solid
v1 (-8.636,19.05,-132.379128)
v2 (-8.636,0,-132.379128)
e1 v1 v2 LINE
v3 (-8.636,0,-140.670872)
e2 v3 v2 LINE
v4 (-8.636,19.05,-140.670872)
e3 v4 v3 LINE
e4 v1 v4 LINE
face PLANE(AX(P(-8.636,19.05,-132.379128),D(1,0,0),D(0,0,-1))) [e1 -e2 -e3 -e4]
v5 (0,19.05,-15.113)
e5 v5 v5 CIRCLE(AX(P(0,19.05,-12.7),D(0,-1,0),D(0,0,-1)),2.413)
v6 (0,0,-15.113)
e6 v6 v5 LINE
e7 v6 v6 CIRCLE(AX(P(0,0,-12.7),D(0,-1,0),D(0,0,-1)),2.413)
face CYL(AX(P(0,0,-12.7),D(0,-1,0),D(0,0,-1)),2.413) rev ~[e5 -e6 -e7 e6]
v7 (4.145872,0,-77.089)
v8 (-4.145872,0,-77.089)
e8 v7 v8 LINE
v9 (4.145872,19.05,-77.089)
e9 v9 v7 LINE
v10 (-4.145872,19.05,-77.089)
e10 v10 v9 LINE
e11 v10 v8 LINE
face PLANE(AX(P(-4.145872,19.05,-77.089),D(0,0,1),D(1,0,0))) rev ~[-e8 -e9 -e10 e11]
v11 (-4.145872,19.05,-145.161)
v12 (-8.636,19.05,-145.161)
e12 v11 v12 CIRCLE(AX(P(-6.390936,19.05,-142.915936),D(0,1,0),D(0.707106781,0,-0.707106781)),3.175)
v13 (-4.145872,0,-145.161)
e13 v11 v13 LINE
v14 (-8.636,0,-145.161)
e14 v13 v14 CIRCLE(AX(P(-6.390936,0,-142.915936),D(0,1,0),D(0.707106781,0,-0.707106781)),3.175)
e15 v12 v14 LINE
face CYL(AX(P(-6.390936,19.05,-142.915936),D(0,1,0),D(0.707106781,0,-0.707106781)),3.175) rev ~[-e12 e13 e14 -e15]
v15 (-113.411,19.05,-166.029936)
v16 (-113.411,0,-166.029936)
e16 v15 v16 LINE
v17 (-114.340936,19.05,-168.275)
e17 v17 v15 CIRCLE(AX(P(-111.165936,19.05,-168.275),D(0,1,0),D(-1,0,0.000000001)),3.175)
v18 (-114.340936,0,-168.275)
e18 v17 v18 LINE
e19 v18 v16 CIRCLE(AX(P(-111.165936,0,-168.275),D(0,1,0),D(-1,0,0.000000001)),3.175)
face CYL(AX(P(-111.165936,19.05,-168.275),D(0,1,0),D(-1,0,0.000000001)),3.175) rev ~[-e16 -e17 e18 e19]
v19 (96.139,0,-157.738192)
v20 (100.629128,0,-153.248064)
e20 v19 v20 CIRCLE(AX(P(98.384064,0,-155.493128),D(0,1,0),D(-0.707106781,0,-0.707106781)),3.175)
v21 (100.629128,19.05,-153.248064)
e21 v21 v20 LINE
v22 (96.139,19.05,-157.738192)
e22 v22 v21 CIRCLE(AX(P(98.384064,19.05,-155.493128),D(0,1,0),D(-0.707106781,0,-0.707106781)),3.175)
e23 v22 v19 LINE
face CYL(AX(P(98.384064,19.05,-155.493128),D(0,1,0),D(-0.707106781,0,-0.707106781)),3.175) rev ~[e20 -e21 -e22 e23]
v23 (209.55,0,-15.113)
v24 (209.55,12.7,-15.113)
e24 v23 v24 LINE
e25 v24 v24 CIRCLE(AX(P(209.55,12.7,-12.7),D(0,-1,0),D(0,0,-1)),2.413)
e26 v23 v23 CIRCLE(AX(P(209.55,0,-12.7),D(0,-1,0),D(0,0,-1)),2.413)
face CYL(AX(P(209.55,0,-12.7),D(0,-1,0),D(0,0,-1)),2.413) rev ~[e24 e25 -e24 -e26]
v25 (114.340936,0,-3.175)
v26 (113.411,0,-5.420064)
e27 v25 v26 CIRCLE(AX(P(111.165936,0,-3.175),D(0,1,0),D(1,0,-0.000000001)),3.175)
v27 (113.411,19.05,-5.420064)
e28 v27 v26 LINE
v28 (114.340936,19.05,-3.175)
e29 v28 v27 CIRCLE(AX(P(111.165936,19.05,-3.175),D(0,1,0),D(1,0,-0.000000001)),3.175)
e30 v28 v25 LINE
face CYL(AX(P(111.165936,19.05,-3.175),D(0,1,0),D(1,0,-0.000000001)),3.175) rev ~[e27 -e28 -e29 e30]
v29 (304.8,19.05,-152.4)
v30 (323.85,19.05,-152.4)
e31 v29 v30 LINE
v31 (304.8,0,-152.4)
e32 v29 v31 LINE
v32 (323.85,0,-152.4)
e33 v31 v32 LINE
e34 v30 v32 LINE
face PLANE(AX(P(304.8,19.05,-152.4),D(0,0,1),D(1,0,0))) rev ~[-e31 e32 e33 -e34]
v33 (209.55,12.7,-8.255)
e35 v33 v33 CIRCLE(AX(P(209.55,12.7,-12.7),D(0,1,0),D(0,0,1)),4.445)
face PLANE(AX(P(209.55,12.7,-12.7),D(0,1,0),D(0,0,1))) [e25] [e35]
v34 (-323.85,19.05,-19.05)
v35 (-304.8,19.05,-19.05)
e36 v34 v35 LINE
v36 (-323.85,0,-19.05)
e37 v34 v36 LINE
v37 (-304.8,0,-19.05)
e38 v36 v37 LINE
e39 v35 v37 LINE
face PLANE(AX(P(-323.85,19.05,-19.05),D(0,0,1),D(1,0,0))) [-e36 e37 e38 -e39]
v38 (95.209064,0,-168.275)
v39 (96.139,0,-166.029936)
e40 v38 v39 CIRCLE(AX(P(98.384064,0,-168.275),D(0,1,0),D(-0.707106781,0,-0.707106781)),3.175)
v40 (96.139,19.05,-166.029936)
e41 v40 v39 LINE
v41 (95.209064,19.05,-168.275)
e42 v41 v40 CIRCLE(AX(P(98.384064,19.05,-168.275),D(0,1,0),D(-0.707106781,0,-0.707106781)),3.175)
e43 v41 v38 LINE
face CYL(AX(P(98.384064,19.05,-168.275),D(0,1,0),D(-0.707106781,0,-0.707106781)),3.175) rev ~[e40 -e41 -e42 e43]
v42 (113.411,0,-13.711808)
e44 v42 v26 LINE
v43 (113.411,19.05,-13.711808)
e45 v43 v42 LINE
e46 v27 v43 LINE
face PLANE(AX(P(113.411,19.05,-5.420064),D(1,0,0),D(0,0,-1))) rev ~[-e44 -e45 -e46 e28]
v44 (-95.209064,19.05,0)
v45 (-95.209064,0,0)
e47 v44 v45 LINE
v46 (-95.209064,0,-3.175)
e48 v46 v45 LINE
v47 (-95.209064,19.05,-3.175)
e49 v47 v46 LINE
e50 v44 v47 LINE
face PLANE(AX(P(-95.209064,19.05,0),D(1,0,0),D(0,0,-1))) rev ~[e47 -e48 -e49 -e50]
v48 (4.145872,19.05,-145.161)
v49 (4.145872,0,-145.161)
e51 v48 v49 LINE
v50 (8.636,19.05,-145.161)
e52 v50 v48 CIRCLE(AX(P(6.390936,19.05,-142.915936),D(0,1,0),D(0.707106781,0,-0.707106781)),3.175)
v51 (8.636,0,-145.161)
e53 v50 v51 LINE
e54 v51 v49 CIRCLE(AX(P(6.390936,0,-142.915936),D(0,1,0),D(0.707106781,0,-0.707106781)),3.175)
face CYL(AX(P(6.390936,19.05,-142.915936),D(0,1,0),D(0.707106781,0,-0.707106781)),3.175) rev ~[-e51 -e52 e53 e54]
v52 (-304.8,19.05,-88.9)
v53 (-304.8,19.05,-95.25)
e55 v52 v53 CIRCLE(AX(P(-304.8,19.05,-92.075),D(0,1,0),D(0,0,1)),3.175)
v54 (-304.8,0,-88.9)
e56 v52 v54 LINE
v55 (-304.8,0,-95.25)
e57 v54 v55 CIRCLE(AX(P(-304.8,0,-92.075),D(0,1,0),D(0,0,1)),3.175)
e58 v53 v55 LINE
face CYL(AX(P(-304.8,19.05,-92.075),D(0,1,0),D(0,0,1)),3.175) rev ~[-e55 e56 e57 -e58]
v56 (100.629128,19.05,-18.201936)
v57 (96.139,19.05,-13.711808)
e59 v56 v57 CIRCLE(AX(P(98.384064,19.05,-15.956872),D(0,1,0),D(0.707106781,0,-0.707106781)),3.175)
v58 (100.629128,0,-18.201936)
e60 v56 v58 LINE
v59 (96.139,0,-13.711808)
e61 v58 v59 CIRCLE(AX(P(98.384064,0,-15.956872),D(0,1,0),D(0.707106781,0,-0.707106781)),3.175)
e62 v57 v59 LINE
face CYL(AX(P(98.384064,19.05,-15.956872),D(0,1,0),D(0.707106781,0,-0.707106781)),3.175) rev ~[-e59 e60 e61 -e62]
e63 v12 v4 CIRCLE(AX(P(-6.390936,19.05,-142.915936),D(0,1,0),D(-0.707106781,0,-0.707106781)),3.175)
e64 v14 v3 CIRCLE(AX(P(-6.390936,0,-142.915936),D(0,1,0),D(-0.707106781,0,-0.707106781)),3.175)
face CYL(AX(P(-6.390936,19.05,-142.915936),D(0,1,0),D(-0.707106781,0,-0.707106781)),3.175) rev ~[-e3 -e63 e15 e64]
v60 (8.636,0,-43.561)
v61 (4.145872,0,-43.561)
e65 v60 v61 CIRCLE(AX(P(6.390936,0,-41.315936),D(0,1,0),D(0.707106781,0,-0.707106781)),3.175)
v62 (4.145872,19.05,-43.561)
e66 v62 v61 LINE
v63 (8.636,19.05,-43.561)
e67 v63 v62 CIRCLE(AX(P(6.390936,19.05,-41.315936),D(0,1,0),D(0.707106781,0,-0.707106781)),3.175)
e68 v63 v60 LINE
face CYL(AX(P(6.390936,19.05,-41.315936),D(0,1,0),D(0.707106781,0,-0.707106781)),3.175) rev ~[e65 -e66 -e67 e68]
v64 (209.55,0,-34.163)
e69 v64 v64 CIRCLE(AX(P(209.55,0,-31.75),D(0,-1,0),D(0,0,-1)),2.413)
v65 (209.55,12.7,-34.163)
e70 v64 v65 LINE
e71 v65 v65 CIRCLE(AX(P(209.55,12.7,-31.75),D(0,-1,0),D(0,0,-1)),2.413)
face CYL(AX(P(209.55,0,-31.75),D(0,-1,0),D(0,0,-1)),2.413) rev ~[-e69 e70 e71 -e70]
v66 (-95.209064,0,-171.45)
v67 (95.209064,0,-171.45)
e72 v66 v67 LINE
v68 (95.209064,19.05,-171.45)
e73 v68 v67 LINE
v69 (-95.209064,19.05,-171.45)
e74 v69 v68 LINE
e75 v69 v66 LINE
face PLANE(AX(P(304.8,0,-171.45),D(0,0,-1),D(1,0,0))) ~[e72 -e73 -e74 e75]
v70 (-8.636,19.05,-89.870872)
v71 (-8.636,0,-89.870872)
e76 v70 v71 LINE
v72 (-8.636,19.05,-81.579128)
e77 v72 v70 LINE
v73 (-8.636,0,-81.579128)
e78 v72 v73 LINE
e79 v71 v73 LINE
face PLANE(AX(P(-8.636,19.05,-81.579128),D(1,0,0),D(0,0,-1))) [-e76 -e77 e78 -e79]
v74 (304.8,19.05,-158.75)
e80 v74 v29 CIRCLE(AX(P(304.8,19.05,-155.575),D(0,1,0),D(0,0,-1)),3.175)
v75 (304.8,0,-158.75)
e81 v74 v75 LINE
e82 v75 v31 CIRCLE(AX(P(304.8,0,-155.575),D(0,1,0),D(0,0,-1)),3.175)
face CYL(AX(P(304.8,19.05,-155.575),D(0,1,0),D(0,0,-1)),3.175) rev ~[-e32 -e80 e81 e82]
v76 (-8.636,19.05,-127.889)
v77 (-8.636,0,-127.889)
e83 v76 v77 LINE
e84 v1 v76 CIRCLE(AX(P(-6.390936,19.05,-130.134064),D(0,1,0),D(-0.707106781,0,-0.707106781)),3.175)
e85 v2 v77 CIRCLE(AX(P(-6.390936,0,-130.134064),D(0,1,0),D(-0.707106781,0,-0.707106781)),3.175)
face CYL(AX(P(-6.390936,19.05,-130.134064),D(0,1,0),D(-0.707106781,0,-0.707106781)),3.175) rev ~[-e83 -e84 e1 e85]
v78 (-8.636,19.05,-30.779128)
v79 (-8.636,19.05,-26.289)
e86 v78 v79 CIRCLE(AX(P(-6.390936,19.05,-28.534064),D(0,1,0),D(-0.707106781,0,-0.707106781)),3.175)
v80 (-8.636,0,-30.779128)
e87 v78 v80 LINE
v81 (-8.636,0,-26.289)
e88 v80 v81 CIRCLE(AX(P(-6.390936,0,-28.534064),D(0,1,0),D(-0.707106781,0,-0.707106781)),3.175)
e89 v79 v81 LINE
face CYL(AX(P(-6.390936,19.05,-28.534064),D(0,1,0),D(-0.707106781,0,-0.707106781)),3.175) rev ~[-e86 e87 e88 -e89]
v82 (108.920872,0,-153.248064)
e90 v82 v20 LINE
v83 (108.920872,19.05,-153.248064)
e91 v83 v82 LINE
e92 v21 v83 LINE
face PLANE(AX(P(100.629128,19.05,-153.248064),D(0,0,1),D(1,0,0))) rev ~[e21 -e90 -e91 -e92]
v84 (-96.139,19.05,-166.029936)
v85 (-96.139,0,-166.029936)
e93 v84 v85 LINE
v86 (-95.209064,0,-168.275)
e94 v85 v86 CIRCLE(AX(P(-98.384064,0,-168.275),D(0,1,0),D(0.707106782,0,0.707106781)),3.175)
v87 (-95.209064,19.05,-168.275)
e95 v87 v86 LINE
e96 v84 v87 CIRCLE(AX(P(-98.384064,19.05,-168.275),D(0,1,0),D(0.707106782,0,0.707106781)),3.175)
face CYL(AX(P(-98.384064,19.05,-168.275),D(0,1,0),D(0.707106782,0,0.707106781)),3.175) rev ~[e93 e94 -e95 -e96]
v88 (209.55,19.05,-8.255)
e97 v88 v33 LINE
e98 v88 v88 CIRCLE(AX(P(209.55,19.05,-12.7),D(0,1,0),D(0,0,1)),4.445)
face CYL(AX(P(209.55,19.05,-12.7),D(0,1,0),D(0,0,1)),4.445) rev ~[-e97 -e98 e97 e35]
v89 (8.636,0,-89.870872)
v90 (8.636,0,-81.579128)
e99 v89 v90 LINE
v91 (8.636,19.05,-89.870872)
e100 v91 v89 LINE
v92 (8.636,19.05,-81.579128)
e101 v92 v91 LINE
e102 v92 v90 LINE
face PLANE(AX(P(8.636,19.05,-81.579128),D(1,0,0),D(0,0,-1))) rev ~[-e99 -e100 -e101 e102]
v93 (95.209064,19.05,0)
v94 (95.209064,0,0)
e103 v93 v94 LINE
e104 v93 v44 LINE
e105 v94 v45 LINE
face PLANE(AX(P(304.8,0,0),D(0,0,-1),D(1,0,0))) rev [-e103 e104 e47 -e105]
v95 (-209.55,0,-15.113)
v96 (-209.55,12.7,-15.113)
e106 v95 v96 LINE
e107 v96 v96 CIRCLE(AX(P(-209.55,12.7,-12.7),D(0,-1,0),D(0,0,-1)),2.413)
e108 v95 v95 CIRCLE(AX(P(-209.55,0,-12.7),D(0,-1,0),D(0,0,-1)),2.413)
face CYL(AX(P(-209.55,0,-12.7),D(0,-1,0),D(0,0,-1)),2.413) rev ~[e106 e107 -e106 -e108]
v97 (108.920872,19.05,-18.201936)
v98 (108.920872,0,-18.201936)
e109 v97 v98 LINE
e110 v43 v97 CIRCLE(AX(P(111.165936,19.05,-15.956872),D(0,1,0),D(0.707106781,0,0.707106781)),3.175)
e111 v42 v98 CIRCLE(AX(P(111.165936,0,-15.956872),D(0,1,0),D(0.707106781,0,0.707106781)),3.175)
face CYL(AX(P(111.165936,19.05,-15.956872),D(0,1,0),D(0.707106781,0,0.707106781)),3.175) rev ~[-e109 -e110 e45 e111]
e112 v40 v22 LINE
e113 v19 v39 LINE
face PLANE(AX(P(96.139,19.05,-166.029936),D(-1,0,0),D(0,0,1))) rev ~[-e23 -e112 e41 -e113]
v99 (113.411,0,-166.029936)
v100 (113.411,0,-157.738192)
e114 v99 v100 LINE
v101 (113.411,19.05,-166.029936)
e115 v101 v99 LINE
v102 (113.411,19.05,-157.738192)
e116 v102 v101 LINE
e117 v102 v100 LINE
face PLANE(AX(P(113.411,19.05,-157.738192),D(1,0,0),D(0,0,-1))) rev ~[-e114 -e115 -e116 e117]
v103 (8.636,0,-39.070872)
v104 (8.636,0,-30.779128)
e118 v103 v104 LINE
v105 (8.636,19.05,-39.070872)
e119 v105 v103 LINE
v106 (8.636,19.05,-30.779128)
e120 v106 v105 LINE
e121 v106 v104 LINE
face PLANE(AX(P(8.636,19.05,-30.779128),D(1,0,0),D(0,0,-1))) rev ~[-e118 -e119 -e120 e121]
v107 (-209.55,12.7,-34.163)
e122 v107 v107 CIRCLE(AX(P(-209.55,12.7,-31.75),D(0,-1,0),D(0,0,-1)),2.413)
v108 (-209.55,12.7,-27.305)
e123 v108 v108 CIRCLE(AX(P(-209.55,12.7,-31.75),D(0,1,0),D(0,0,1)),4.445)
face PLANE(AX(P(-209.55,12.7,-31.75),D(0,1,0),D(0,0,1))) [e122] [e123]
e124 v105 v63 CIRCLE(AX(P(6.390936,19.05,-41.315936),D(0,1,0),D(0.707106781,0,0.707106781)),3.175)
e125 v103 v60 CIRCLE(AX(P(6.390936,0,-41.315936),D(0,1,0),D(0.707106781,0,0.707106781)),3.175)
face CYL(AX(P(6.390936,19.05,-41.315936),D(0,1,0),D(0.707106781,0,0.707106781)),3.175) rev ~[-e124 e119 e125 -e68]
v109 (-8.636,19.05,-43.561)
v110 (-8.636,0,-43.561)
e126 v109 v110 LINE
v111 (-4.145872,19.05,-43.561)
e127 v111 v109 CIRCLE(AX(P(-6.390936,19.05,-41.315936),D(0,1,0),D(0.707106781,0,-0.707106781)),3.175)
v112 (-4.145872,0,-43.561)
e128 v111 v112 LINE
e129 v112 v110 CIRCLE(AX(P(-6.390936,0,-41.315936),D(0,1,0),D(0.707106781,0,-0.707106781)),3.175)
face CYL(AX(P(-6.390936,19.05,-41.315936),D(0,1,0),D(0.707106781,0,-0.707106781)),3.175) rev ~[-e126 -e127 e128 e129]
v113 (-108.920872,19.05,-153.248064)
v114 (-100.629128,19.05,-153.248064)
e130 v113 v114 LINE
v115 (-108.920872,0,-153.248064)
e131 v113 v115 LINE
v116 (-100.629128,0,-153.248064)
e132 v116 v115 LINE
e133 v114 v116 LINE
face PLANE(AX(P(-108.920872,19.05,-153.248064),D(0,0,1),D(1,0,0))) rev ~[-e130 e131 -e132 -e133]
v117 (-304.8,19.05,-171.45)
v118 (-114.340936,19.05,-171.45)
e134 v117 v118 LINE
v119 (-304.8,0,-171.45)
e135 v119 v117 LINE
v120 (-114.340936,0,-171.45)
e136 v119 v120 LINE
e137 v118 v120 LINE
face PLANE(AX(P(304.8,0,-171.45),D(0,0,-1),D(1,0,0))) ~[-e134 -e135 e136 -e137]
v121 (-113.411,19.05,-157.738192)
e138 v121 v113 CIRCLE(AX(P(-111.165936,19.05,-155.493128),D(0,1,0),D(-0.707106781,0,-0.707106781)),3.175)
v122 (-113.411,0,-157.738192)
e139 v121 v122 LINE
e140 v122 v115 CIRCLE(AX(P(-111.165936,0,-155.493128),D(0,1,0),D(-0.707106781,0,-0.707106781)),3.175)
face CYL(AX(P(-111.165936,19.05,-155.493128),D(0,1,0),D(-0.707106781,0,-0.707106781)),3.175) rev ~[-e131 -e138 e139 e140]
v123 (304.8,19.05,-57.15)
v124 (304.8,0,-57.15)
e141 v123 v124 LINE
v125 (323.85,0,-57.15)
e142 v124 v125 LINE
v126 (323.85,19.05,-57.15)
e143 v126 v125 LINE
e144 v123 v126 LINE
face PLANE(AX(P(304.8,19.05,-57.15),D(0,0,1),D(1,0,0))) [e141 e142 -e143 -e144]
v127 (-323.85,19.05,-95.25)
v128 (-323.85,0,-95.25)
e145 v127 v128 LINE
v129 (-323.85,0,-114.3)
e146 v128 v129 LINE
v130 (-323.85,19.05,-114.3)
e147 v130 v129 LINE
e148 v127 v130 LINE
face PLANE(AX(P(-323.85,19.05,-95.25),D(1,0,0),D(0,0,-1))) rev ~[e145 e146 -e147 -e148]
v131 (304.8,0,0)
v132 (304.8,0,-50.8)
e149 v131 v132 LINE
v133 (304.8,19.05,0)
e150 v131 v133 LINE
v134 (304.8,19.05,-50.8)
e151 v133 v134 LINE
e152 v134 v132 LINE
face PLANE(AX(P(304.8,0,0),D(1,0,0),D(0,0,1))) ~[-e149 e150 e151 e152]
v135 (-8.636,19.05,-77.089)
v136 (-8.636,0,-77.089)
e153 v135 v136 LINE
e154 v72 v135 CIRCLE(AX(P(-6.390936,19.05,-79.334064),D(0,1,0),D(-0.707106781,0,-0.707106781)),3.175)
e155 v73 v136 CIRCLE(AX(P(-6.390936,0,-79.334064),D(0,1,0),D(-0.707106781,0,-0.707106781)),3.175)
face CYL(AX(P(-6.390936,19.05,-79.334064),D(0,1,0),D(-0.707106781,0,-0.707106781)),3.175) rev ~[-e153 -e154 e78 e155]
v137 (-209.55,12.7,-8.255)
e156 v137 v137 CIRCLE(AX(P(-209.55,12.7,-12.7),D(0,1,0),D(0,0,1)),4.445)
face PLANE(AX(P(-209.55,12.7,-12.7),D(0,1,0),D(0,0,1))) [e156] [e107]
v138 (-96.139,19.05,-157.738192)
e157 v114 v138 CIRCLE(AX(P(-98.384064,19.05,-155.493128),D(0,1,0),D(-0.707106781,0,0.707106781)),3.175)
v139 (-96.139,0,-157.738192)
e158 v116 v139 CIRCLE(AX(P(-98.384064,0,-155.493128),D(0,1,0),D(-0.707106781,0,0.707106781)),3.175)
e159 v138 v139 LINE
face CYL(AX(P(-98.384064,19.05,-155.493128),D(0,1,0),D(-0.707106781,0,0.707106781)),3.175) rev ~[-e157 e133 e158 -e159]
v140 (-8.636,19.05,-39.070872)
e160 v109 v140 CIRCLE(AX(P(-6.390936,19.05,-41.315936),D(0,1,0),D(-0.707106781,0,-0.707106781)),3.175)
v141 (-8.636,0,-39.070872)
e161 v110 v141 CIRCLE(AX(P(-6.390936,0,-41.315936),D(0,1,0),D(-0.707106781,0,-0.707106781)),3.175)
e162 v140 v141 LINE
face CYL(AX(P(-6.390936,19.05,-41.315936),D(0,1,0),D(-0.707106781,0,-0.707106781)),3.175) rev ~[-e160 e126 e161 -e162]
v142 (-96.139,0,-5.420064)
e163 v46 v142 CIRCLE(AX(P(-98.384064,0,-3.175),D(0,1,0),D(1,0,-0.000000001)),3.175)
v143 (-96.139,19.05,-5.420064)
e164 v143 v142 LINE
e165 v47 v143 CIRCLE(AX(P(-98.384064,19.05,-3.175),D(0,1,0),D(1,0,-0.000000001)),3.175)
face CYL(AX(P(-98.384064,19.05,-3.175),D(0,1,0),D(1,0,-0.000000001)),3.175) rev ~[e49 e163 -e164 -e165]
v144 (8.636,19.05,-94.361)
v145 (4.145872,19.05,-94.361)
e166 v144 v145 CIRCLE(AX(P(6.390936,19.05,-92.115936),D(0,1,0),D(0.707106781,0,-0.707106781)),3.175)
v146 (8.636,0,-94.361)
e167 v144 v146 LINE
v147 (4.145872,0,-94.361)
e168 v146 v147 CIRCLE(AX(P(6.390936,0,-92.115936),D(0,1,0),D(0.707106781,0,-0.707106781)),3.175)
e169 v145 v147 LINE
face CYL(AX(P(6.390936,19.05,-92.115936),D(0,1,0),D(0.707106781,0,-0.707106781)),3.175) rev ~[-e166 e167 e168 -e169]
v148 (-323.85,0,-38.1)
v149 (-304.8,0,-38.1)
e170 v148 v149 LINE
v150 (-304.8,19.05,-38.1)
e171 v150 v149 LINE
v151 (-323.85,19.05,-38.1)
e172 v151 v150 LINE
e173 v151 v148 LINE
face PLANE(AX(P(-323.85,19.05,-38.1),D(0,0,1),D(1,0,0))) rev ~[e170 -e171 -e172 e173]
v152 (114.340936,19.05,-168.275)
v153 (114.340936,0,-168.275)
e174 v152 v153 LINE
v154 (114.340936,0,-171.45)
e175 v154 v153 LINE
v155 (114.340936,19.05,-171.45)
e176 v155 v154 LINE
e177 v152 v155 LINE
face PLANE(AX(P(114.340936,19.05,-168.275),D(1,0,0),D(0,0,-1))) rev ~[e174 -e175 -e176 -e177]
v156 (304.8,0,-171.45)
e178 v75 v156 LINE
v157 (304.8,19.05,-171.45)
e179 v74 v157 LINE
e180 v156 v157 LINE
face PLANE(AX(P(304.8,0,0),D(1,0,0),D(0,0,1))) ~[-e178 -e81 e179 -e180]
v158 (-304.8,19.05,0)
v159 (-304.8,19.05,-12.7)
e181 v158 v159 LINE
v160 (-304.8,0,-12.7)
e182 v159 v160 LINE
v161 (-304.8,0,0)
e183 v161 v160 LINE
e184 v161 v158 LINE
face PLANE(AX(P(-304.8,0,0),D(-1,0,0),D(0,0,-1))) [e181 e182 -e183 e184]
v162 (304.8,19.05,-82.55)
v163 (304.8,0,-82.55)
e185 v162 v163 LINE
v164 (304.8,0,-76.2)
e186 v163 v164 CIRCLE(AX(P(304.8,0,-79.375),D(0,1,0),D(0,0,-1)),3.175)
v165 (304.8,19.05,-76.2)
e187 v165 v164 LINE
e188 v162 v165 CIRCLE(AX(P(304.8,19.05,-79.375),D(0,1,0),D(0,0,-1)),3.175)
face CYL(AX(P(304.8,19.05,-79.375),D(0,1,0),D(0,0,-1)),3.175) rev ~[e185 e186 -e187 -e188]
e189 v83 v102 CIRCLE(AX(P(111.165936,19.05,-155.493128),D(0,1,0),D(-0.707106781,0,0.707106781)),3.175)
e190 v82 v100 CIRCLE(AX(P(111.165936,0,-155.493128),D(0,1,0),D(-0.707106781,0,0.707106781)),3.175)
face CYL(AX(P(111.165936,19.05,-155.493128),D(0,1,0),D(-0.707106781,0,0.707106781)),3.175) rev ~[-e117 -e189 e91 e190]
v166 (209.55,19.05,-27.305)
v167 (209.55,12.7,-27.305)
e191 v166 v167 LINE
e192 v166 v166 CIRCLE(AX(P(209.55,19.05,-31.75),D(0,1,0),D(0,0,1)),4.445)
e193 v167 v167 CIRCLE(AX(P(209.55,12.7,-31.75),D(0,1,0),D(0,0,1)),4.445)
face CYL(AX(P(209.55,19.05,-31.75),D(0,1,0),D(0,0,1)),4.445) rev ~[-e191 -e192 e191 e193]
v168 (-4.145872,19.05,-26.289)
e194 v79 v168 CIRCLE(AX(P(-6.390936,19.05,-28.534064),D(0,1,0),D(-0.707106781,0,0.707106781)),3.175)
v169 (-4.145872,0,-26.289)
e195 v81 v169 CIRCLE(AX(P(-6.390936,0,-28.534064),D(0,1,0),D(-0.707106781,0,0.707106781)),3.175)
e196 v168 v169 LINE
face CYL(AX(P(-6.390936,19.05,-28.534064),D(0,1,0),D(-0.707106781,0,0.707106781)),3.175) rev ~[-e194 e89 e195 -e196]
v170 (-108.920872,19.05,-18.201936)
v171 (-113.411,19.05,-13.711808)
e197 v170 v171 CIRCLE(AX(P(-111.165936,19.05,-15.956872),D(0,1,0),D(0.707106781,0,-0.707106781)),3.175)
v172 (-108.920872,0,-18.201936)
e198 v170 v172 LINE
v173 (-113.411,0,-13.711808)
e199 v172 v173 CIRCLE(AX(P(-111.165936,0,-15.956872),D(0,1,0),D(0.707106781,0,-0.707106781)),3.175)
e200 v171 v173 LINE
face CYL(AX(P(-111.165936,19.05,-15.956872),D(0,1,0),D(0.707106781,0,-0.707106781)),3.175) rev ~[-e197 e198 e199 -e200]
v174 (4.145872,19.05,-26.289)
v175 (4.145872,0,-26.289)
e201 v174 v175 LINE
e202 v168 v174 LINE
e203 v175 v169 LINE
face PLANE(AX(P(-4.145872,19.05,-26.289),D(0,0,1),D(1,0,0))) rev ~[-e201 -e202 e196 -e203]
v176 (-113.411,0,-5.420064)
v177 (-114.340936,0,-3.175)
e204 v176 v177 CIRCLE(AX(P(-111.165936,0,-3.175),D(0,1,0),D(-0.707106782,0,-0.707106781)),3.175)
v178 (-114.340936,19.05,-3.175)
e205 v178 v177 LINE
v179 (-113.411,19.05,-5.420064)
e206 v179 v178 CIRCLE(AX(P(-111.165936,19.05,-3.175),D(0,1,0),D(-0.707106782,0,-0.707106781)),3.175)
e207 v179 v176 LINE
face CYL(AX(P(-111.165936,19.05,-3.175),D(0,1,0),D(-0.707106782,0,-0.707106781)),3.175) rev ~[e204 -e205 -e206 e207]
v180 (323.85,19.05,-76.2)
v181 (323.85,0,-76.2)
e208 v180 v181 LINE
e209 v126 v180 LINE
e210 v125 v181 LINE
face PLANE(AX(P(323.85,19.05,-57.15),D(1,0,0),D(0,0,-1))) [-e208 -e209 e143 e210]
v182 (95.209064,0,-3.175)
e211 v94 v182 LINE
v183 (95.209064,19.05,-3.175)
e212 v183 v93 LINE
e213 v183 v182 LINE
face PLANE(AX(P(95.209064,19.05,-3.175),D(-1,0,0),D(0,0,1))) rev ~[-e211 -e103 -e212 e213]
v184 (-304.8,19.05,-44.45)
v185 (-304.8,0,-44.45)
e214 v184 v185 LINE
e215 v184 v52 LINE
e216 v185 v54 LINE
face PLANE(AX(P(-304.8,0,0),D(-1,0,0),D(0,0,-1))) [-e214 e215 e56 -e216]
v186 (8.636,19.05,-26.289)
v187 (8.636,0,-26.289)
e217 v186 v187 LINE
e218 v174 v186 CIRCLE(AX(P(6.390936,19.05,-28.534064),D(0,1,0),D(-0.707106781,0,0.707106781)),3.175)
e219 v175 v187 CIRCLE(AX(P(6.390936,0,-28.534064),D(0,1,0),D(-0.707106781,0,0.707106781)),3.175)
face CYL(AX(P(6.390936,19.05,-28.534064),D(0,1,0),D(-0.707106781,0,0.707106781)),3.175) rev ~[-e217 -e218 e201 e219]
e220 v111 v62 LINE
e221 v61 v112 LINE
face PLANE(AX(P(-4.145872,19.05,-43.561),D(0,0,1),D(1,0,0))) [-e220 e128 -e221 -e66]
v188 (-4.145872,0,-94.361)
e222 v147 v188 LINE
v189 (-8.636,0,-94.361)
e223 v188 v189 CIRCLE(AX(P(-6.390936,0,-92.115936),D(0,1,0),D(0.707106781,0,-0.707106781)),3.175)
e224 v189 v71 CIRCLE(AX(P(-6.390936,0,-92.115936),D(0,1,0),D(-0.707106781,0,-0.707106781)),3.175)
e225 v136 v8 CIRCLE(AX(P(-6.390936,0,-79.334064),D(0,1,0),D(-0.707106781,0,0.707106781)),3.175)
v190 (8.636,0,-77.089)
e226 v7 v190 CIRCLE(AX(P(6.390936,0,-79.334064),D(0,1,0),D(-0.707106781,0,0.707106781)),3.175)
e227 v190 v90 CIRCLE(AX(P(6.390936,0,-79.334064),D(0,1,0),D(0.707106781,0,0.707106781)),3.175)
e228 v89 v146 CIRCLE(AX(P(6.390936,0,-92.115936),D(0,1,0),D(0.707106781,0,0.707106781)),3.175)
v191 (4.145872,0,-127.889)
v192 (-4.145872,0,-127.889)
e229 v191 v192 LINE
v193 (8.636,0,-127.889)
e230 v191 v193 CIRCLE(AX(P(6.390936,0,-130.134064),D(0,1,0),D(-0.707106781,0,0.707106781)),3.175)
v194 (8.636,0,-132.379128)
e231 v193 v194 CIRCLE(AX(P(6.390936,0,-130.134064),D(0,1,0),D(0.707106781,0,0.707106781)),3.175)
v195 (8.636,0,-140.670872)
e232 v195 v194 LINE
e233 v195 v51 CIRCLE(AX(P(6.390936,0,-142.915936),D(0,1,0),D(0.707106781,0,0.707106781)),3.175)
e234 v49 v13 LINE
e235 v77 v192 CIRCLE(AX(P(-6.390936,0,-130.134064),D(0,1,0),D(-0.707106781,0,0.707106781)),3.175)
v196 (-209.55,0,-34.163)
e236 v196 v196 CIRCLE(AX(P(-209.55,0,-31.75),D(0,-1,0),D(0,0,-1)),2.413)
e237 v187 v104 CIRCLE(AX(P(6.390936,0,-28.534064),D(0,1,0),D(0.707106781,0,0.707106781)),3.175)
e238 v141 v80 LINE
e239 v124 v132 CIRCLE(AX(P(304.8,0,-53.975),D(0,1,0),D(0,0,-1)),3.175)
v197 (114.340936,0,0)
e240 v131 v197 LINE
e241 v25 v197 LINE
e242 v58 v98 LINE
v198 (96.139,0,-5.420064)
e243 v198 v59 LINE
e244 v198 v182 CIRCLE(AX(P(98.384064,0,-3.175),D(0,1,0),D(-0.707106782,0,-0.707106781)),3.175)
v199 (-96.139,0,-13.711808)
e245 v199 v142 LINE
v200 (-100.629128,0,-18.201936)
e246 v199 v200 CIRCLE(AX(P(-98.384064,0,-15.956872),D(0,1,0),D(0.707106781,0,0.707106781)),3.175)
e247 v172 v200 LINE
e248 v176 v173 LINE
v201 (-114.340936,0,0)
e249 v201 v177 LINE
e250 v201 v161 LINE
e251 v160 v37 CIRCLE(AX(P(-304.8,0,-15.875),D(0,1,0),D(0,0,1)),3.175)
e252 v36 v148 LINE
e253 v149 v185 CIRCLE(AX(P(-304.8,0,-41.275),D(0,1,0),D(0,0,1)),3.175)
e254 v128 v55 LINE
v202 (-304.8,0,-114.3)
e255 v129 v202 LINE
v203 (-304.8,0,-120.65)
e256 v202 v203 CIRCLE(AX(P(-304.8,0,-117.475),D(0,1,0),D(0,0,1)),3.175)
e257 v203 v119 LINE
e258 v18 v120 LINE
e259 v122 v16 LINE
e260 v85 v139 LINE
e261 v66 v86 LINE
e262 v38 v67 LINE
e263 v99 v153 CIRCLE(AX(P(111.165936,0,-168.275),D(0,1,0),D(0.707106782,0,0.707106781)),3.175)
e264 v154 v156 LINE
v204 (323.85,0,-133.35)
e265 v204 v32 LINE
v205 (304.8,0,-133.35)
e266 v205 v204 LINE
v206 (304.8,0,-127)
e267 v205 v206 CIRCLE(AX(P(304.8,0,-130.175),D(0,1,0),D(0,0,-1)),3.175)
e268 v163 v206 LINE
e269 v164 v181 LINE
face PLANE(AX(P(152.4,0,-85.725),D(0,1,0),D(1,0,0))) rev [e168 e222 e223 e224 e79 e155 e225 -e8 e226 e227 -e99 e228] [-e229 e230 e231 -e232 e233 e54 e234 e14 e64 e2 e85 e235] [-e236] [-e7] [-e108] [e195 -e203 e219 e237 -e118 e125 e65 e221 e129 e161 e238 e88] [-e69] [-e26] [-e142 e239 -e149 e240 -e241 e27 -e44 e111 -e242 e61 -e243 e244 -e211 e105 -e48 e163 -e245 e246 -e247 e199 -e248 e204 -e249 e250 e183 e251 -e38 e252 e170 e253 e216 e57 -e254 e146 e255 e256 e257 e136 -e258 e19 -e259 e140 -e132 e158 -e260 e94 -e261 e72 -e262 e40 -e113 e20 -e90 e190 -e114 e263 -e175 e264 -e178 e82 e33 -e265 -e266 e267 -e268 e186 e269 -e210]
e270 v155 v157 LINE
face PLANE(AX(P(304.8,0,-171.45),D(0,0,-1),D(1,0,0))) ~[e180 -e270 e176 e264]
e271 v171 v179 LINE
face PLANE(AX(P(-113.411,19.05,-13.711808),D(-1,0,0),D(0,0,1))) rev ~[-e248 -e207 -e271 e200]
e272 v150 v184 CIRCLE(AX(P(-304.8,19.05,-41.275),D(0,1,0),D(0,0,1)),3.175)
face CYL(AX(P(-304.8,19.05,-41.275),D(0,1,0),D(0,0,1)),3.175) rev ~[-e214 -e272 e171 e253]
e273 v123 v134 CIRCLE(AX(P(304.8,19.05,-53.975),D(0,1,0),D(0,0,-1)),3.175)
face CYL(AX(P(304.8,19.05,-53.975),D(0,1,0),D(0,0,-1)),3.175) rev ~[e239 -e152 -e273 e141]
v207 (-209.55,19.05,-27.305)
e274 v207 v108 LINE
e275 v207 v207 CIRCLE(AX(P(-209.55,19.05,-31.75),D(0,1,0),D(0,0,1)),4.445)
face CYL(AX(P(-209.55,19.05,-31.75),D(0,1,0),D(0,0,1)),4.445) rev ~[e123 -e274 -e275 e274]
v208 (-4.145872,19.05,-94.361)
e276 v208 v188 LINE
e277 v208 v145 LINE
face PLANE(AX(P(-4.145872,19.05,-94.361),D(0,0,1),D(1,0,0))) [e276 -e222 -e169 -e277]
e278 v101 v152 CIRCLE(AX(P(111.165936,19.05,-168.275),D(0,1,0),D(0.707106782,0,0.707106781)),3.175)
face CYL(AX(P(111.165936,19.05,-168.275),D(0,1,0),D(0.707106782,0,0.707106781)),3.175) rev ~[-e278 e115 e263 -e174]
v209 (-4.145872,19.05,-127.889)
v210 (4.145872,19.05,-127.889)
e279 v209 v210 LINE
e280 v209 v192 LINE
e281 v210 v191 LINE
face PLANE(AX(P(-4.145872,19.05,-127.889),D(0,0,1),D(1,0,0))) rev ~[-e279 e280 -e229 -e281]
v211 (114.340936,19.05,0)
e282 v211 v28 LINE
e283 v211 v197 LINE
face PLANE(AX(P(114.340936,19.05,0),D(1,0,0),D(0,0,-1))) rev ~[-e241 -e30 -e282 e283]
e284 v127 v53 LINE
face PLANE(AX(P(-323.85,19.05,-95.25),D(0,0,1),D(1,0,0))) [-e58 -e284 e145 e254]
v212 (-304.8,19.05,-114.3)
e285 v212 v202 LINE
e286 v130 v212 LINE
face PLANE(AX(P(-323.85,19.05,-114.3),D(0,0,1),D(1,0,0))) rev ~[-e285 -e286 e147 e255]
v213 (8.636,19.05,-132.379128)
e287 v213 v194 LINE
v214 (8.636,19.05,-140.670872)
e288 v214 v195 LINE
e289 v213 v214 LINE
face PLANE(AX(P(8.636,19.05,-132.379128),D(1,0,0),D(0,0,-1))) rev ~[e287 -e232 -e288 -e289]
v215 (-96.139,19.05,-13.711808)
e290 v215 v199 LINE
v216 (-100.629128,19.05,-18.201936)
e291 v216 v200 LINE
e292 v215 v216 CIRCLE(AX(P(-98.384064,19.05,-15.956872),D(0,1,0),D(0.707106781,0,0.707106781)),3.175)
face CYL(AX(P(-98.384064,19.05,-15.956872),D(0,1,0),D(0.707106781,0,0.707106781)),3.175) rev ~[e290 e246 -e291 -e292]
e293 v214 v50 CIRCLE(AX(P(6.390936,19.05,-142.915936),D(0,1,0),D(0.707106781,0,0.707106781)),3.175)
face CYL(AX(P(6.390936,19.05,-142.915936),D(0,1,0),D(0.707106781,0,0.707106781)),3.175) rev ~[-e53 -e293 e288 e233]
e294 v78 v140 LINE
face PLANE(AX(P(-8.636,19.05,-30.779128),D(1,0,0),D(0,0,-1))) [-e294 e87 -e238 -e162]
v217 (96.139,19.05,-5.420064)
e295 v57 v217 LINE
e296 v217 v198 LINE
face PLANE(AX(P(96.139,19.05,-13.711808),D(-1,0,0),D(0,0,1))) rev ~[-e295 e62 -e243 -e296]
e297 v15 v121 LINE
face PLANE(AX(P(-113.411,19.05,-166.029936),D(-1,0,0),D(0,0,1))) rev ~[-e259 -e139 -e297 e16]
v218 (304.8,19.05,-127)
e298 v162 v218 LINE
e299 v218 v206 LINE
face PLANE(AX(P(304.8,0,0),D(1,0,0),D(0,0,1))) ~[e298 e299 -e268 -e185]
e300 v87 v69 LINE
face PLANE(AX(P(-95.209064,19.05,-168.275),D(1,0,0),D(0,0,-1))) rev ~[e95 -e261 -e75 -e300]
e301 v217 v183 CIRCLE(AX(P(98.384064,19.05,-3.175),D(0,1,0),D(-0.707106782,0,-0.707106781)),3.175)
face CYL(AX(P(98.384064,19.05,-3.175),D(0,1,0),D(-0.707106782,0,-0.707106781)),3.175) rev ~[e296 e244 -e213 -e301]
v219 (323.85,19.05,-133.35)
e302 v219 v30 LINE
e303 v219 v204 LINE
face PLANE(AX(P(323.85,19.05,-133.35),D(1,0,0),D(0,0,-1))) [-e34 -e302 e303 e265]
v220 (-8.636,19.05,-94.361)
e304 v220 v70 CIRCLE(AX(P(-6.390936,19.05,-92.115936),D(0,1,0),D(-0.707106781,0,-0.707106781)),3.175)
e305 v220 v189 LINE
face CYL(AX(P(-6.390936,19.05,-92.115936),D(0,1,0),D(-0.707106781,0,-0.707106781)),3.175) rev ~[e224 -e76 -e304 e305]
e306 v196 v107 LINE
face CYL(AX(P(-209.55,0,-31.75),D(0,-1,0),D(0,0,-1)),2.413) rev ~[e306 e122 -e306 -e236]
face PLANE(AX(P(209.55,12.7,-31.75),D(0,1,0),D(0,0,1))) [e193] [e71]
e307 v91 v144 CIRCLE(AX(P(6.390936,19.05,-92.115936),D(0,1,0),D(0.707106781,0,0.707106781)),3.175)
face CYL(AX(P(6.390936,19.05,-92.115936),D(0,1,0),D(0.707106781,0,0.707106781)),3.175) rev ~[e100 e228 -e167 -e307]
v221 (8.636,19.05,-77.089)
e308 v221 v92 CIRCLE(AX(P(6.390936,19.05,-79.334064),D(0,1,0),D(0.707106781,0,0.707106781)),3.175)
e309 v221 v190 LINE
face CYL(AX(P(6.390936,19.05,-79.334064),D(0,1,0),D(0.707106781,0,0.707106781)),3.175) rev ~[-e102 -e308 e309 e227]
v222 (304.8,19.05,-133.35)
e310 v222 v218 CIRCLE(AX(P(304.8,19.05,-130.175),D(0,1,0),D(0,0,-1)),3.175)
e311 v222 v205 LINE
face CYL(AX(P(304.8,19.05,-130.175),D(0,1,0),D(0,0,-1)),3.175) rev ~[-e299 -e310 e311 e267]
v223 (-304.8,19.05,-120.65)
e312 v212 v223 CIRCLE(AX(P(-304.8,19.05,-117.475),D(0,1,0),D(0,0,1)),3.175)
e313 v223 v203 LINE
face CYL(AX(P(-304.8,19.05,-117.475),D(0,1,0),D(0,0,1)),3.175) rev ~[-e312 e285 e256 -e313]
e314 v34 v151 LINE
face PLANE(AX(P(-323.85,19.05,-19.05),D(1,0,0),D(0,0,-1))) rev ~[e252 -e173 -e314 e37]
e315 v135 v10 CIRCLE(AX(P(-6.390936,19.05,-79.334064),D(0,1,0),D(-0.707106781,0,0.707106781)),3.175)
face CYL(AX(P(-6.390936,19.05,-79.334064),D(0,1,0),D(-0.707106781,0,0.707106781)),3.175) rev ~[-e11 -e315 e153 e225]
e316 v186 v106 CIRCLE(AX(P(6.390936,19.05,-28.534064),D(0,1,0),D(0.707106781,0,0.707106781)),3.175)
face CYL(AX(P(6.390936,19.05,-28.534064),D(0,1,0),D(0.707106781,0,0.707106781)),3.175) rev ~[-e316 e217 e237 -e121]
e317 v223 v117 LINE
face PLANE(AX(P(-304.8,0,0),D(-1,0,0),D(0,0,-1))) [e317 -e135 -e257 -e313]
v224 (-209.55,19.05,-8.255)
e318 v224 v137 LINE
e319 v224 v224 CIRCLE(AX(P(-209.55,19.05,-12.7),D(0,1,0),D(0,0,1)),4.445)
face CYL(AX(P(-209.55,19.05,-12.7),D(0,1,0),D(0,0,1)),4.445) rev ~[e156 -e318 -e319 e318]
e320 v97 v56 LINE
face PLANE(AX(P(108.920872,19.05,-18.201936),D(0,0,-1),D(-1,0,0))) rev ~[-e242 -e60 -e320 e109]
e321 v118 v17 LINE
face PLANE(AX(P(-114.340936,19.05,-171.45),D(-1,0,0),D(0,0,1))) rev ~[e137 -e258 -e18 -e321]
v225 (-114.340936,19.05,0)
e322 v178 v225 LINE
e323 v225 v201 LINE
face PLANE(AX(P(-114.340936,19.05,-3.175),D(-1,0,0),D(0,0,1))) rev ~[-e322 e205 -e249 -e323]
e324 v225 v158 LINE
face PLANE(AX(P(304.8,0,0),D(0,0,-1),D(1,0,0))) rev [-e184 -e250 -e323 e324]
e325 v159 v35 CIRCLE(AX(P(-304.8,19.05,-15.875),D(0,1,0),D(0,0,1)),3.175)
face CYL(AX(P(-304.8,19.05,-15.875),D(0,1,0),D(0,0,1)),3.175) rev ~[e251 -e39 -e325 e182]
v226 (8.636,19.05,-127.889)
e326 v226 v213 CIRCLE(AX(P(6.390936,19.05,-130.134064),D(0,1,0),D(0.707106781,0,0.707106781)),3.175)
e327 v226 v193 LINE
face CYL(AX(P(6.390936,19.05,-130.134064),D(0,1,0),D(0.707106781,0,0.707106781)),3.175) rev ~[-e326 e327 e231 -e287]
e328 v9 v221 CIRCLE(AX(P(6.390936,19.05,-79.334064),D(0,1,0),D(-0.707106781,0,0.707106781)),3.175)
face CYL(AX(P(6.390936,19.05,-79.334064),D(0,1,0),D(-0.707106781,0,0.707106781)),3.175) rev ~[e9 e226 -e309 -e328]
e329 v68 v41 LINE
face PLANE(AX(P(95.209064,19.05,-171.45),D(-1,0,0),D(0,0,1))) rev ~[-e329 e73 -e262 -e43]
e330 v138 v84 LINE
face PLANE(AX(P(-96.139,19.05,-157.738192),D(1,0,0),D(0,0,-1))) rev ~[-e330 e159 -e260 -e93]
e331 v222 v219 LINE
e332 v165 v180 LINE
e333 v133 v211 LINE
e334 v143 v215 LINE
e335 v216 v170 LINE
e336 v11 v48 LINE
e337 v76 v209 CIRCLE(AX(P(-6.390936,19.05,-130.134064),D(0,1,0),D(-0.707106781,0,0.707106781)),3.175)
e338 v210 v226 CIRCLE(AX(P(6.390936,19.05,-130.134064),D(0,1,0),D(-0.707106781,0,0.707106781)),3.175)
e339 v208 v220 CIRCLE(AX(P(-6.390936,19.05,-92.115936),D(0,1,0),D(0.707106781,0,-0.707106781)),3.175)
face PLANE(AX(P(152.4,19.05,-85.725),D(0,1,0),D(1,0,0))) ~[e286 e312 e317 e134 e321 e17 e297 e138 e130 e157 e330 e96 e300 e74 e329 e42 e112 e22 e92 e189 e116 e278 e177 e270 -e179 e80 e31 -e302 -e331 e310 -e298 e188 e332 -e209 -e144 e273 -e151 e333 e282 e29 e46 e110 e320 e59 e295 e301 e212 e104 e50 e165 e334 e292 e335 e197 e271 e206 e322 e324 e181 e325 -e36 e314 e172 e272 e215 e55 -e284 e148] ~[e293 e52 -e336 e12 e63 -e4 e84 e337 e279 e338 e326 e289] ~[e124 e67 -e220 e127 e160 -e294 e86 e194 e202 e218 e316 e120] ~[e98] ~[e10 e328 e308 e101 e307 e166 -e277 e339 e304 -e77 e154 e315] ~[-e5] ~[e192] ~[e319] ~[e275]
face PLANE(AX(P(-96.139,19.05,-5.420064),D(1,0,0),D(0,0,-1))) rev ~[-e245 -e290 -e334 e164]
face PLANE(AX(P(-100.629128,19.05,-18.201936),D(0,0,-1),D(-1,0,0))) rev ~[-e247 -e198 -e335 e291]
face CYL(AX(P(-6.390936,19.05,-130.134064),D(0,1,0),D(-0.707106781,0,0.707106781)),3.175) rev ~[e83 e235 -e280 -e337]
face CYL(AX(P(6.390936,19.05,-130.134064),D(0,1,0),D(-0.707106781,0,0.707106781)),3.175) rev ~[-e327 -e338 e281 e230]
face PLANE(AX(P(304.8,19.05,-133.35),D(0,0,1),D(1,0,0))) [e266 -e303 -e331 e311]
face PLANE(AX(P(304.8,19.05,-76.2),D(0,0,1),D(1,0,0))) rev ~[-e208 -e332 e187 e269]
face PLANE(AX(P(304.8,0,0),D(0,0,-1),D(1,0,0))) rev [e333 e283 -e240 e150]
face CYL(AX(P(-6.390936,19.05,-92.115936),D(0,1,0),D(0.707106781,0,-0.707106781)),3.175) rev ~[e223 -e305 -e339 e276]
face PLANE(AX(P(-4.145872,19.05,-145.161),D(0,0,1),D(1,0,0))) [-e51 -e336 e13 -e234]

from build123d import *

# Parameters (mm, degrees)
SKETCH1_W               = 304.8
SKETCH1_H               = 171.45
BOSS_EXTRUDE1_DEPTH     = 19.05
SKETCH2_W               = 19.05
SKETCH2_H               = 19.05
BOSS_EXTRUDE2_DEPTH     = 19.05
SKETCH3_W               = 19.05
SKETCH3_H               = 19.05
CUT_EXTRUDE1_DEPTH      = 367.928913415
CUT_EXTRUDE3_DEPTH      = 367.928913415
CUT_EXTRUDE3_DEPTH_BACK = 367.928913415
CUT_EXTRUDE4_DEPTH      = 367.928913415
SKETCH10_R              = 2.413
CUT_EXTRUDE5_DEPTH      = 367.928913415
SKETCH5_W               = 17.272
SKETCH5_H               = 17.272
CUT_EXTRUDE6_DEPTH      = 367.928913415
SKETCH11_W              = 59.004774223
SKETCH11_H              = 30.493786919
SKETCH11_W_2            = 62.435284352
SKETCH11_W_3            = 77.529528921
SKETCH11_H_2            = 29.807684893
SKETCH11_H_3            = 29.121582867
BOSS_EXTRUDE4_DEPTH     = 19.05
CUT_EXTRUDE7_DEPTH      = 367.928913415
CUT_EXTRUDE8_DEPTH      = 367.928913415
SKETCH13_R              = 4.445
CUT_EXTRUDE9_DEPTH      = 6.35


with BuildPart() as part:
    # Sketch1 → Boss-Extrude1 (new body)
    with BuildSketch(Plane(origin=(0, 0, 0), x_dir=(1, 0, 0), z_dir=(0, 1, 0))):
        with Locations((-152.4, 85.725)):
            Rectangle(SKETCH1_W, SKETCH1_H)
    extrude(amount=BOSS_EXTRUDE1_DEPTH)

    # Mirror1: part across plane


with BuildPart() as part_1:
    add(part.part)
    add(part.part.mirror(Plane(origin=(0, 19.05, 0), x_dir=(0, 0, 1), z_dir=(-1, 0, 0))))

    # Sketch2 → Boss-Extrude2 (add)
    with BuildSketch(Plane(origin=(0, 19.05, 0), x_dir=(1, 0, 0), z_dir=(0, 1, 0))):
        with Locations((-314.325, 28.575)):
            Rectangle(SKETCH2_W, SKETCH2_H)
        with Locations((-314.325, 104.775)):
            Rectangle(SKETCH2_W, SKETCH2_H)
        with Locations((314.325, 142.875)):
            Rectangle(SKETCH2_W, SKETCH2_H)
        with Locations((314.325, 66.675)):
            Rectangle(SKETCH2_W, SKETCH2_H)
    extrude(amount=-BOSS_EXTRUDE2_DEPTH)

    # Sketch3 → Cut-Extrude1 (cut, symmetric)
    with BuildSketch(Plane(origin=(0, 19.05, 0), x_dir=(1, 0, 0), z_dir=(0, 1, 0))):
        with Locations((-104.775, 9.525)):
            Rectangle(SKETCH3_W, SKETCH3_H)
        with Locations((-104.775, 161.925)):
            Rectangle(SKETCH3_W, SKETCH3_H)
    cut_extrude1 = extrude(amount=CUT_EXTRUDE1_DEPTH, both=True, mode=Mode.SUBTRACT)

    # Mirror2: Cut-Extrude1 across plane
    add(cut_extrude1.mirror(Plane(origin=(0, 0, 0), x_dir=(0, 0, 1), z_dir=(1, 0, 0))), mode=Mode.SUBTRACT)

    # Sketch6 → Cut-Extrude3 (cut, two sides: drawn at the far end of the back side and taken through both)
    with BuildSketch(Plane(origin=(0, 19.05, 0), x_dir=(1, 0, 0), z_dir=(0, 1, 0)).offset(-CUT_EXTRUDE3_DEPTH_BACK)):
        with BuildLine():
            Line((-114.3, 166.959871939), (-114.3, 156.890128061))
            ThreePointArc((-114.3, 156.890128061), (-114.3, 152.4), (-109.809871939, 152.4))
            Line((-109.809871939, 152.4), (-99.740128061, 152.4))
            ThreePointArc((-99.740128061, 152.4), (-95.25, 152.4), (-95.25, 156.890128061))
            Line((-95.25, 156.890128061), (-95.25, 166.959871939))
            Line((-95.25, 166.959871939), (-114.3, 166.959871939))
        make_face()
        with BuildLine():
            ThreePointArc((114.3, 156.890128061), (114.3, 152.4), (109.809871939, 152.4))
            Line((109.809871939, 152.4), (99.740128061, 152.4))
            ThreePointArc((99.740128061, 152.4), (95.25, 152.4), (95.25, 156.890128061))
            Line((95.25, 156.890128061), (95.25, 166.959871939))
            Line((95.25, 166.959871939), (114.3, 166.959871939))
            Line((114.3, 166.959871939), (114.3, 156.890128061))
        make_face()
        with BuildLine():
            ThreePointArc((95.25, 14.559871939), (95.25, 19.05), (99.740128061, 19.05))
            Line((99.740128061, 19.05), (109.809871939, 19.05))
            ThreePointArc((109.809871939, 19.05), (114.3, 19.05), (114.3, 14.559871939))
            Line((114.3, 14.559871939), (114.3, 4.490128061))
            Line((114.3, 4.490128061), (95.25, 4.490128061))
            Line((95.25, 4.490128061), (95.25, 14.559871939))
        make_face()
        with BuildLine():
            Line((-95.25, 4.490128061), (-95.25, 14.559871939))
            ThreePointArc((-95.25, 14.559871939), (-95.25, 19.05), (-99.740128061, 19.05))
            Line((-99.740128061, 19.05), (-109.809871939, 19.05))
            ThreePointArc((-109.809871939, 19.05), (-114.3, 19.05), (-114.3, 14.559871939))
            Line((-114.3, 14.559871939), (-114.3, 4.490128061))
            Line((-114.3, 4.490128061), (-95.25, 4.490128061))
        make_face()
    extrude(amount=CUT_EXTRUDE3_DEPTH + CUT_EXTRUDE3_DEPTH_BACK, mode=Mode.SUBTRACT)

    # Sketch8 → Cut-Extrude4 (cut, through all)
    with BuildSketch(Plane(origin=(0, 19.05, 0), x_dir=(1, 0, 0), z_dir=(0, 1, 0))):
        with BuildLine():
            Line((-304.8, 120.65), (-304.8, 114.3))
            ThreePointArc((-304.8, 114.3), (-301.625, 117.475), (-304.8, 120.65))
        make_face()
        with BuildLine():
            Line((-304.8, 95.25), (-304.8, 88.9))
            ThreePointArc((-304.8, 88.9), (-301.625, 92.075), (-304.8, 95.25))
        make_face()
        with BuildLine():
            Line((-304.8, 44.45), (-304.8, 38.1))
            ThreePointArc((-304.8, 38.1), (-301.625, 41.275), (-304.8, 44.45))
        make_face()
        with BuildLine():
            Line((-304.8, 19.05), (-304.8, 12.7))
            ThreePointArc((-304.8, 12.7), (-301.625, 15.875), (-304.8, 19.05))
        make_face()
        with BuildLine():
            ThreePointArc((304.8, 158.75), (301.625, 155.575), (304.8, 152.4))
            Line((304.8, 152.4), (304.8, 158.75))
        make_face()
        with BuildLine():
            ThreePointArc((304.8, 133.35), (301.625, 130.175), (304.8, 127))
            Line((304.8, 127), (304.8, 133.35))
        make_face()
        with BuildLine():
            ThreePointArc((304.8, 57.15), (301.625, 53.975), (304.8, 50.8))
            Line((304.8, 50.8), (304.8, 57.15))
        make_face()
        with BuildLine():
            ThreePointArc((304.8, 82.55), (301.625, 79.375), (304.8, 76.2))
            Line((304.8, 76.2), (304.8, 82.55))
        make_face()
    extrude(amount=-CUT_EXTRUDE4_DEPTH, mode=Mode.SUBTRACT)

    # Sketch10 → Cut-Extrude5 (cut, through all)
    with BuildSketch(Plane.XZ):
        with Locations(Location((-209.55, -12.7, 0), (0, 0, 270))):
            Circle(SKETCH10_R)
        with Locations(Location((-209.55, -31.75, 0), (0, 0, 270))):
            Circle(SKETCH10_R)
        with Locations(Location((0, -12.7, 0), (0, 0, 270))):
            Circle(SKETCH10_R)
        with Locations(Location((0, -31.75, 0), (0, 0, 270))):
            Circle(SKETCH10_R)
        with Locations(Location((209.55, -12.7, 0), (0, 0, 270))):
            Circle(SKETCH10_R)
        with Locations(Location((209.55, -31.75, 0), (0, 0, 270))):
            Circle(SKETCH10_R)
    extrude(amount=-CUT_EXTRUDE5_DEPTH, mode=Mode.SUBTRACT)

    # Sketch5 → Cut-Extrude6 (cut, through all)
    with BuildSketch(Plane(origin=(0, 19.05, 0), x_dir=(1, 0, 0), z_dir=(0, 1, 0))):
        with BuildLine():
            ThreePointArc((-8.636, 43.561), (-9.56593597, 41.31593597), (-8.636, 39.070871939))
            Line((-8.636, 39.070871939), (-8.636, 43.561))
        make_face()
        with Locations((0, 34.925)):
            Rectangle(SKETCH5_W, SKETCH5_H)
        with BuildLine():
            ThreePointArc((-4.145871939, 43.561), (-6.39093597, 44.49093597), (-8.636, 43.561))
            Line((-8.636, 43.561), (-4.145871939, 43.561))
        make_face()
        with BuildLine():
            ThreePointArc((-8.636, 30.779128061), (-9.56593597, 28.53406403), (-8.636, 26.289))
            Line((-8.636, 26.289), (-8.636, 30.779128061))
        make_face()
        with BuildLine():
            Line((-4.145871939, 26.289), (-8.636, 26.289))
            ThreePointArc((-8.636, 26.289), (-6.39093597, 25.35906403), (-4.145871939, 26.289))
        make_face()
        with BuildLine():
            Line((8.636, 26.289), (4.145871939, 26.289))
            ThreePointArc((4.145871939, 26.289), (6.39093597, 25.35906403), (8.636, 26.289))
        make_face()
        with BuildLine():
            Line((8.636, 30.779128061), (8.636, 26.289))
            ThreePointArc((8.636, 26.289), (9.56593597, 28.53406403), (8.636, 30.779128061))
        make_face()
        with BuildLine():
            Line((8.636, 43.561), (8.636, 39.070871939))
            ThreePointArc((8.636, 39.070871939), (9.56593597, 41.31593597), (8.636, 43.561))
        make_face()
        with BuildLine():
            ThreePointArc((8.636, 43.561), (6.39093597, 44.49093597), (4.145871939, 43.561))
            Line((4.145871939, 43.561), (8.636, 43.561))
        make_face()
        with Locations((0, 85.725)):
            Rectangle(SKETCH5_W, SKETCH5_H)
        with BuildLine():
            ThreePointArc((-8.636, 81.579128061), (-9.56593597, 79.33406403), (-8.636, 77.089))
            Line((-8.636, 77.089), (-8.636, 81.579128061))
        make_face()
        with BuildLine():
            Line((8.636, 77.089), (4.145871939, 77.089))
            ThreePointArc((4.145871939, 77.089), (6.39093597, 76.15906403), (8.636, 77.089))
        make_face()
        with BuildLine():
            Line((8.636, 81.579128061), (8.636, 77.089))
            ThreePointArc((8.636, 77.089), (9.56593597, 79.33406403), (8.636, 81.579128061))
        make_face()
        with BuildLine():
            Line((-4.145871939, 77.089), (-8.636, 77.089))
            ThreePointArc((-8.636, 77.089), (-6.39093597, 76.15906403), (-4.145871939, 77.089))
        make_face()
        with BuildLine():
            ThreePointArc((-8.636, 94.361), (-9.56593597, 92.11593597), (-8.636, 89.870871939))
            Line((-8.636, 89.870871939), (-8.636, 94.361))
        make_face()
        with BuildLine():
            ThreePointArc((-4.145871939, 94.361), (-6.39093597, 95.29093597), (-8.636, 94.361))
            Line((-8.636, 94.361), (-4.145871939, 94.361))
        make_face()
        with BuildLine():
            Line((8.636, 94.361), (8.636, 89.870871939))
            ThreePointArc((8.636, 89.870871939), (9.56593597, 92.11593597), (8.636, 94.361))
        make_face()
        with BuildLine():
            ThreePointArc((8.636, 94.361), (6.39093597, 95.29093597), (4.145871939, 94.361))
            Line((4.145871939, 94.361), (8.636, 94.361))
        make_face()
        with Locations((0, 136.525)):
            Rectangle(SKETCH5_W, SKETCH5_H)
        with BuildLine():
            ThreePointArc((-8.636, 145.161), (-9.56593597, 142.91593597), (-8.636, 140.670871939))
            Line((-8.636, 140.670871939), (-8.636, 145.161))
        make_face()
        with BuildLine():
            ThreePointArc((-4.145871939, 145.161), (-6.39093597, 146.09093597), (-8.636, 145.161))
            Line((-8.636, 145.161), (-4.145871939, 145.161))
        make_face()
        with BuildLine():
            ThreePointArc((8.636, 145.161), (6.39093597, 146.09093597), (4.145871939, 145.161))
            Line((4.145871939, 145.161), (8.636, 145.161))
        make_face()
        with BuildLine():
            Line((8.636, 145.161), (8.636, 140.670871939))
            ThreePointArc((8.636, 140.670871939), (9.56593597, 142.91593597), (8.636, 145.161))
        make_face()
        with BuildLine():
            Line((8.636, 132.379128061), (8.636, 127.889))
            ThreePointArc((8.636, 127.889), (9.56593597, 130.13406403), (8.636, 132.379128061))
        make_face()
        with BuildLine():
            Line((8.636, 127.889), (4.145871939, 127.889))
            ThreePointArc((4.145871939, 127.889), (6.39093597, 126.95906403), (8.636, 127.889))
        make_face()
        with BuildLine():
            Line((-4.145871939, 127.889), (-8.636, 127.889))
            ThreePointArc((-8.636, 127.889), (-6.39093597, 126.95906403), (-4.145871939, 127.889))
        make_face()
        with BuildLine():
            ThreePointArc((-8.636, 132.379128061), (-9.56593597, 130.13406403), (-8.636, 127.889))
            Line((-8.636, 127.889), (-8.636, 132.379128061))
        make_face()
    extrude(amount=-CUT_EXTRUDE6_DEPTH, mode=Mode.SUBTRACT)

    # Sketch11 → Boss-Extrude4 (add)
    with BuildSketch(Plane(origin=(0, 19.05, 0), x_dir=(1, 0, 0), z_dir=(0, 1, 0))):
        with Locations((-104.28750793, 15.24689346)):
            Rectangle(SKETCH11_W, SKETCH11_H)
        with Locations((100.513946787, 15.24689346)):
            Rectangle(SKETCH11_W_2, SKETCH11_H)
        with Locations((108.061069072, 156.546157553)):
            Rectangle(SKETCH11_W_3, SKETCH11_H_2)
        with Locations((-104.28750793, 156.889208567)):
            Rectangle(SKETCH11_W, SKETCH11_H_3)
    extrude(amount=-BOSS_EXTRUDE4_DEPTH)

    # Sketch12 → Cut-Extrude7 (cut, through all)
    with BuildSketch(Plane(origin=(0, 19.05, 0), x_dir=(1, 0, 0), z_dir=(0, 1, 0))):
        with BuildLine():
            ThreePointArc((-113.411, 5.42006403), (-114.099253485, 4.390019898), (-114.34093597, 3.175))
            Line((-114.34093597, 3.175), (-114.34093597, 0))
            Line((-114.34093597, 0), (-95.20906403, 0))
            Line((-95.20906403, 0), (-95.20906403, 3.175))
            ThreePointArc((-95.20906403, 3.175), (-95.450746515, 4.390019898), (-96.139, 5.42006403))
            Line((-96.139, 5.42006403), (-96.139, 13.711807909))
            ThreePointArc((-96.139, 13.711807909), (-96.139, 18.20193597), (-100.629128061, 18.20193597))
            Line((-100.629128061, 18.20193597), (-108.920871939, 18.20193597))
            ThreePointArc((-108.920871939, 18.20193597), (-113.411, 18.20193597), (-113.411, 13.711807909))
            Line((-113.411, 13.711807909), (-113.411, 5.42006403))
        make_face()
        with BuildLine():
            Line((114.34093597, 0), (114.34093597, 3.175))
            ThreePointArc((114.34093597, 3.175), (114.099253485, 4.390019898), (113.411, 5.42006403))
            Line((113.411, 5.42006403), (113.411, 13.711807909))
            ThreePointArc((113.411, 13.711807909), (113.411, 18.20193597), (108.920871939, 18.20193597))
            Line((108.920871939, 18.20193597), (100.629128061, 18.20193597))
            ThreePointArc((100.629128061, 18.20193597), (96.139, 18.20193597), (96.139, 13.711807909))
            Line((96.139, 13.711807909), (96.139, 5.42006403))
            ThreePointArc((96.139, 5.42006403), (95.450746515, 4.390019898), (95.20906403, 3.175))
            Line((95.20906403, 3.175), (95.20906403, 0))
            Line((95.20906403, 0), (114.34093597, 0))
        make_face()
        with BuildLine():
            Line((113.411, 157.738192091), (113.411, 170.52006403))
            Line((113.411, 170.52006403), (96.139, 170.52006403))
            ThreePointArc((96.139, 170.52006403), (95.20906403, 168.275), (96.139, 166.02993597))
            Line((96.139, 166.02993597), (96.139, 157.738192091))
            ThreePointArc((96.139, 157.738192091), (96.139, 153.24806403), (100.629128061, 153.24806403))
            Line((100.629128061, 153.24806403), (108.920871939, 153.24806403))
            ThreePointArc((108.920871939, 153.24806403), (113.411, 153.24806403), (113.411, 157.738192091))
        make_face()
        with BuildLine():
            Line((-114.34093597, 171.45), (-114.34093597, 168.275))
            ThreePointArc((-114.34093597, 168.275), (-114.099253485, 167.059980102), (-113.411, 166.02993597))
            Line((-113.411, 166.02993597), (-113.411, 157.738192091))
            ThreePointArc((-113.411, 157.738192091), (-113.411, 153.24806403), (-108.920871939, 153.24806403))
            Line((-108.920871939, 153.24806403), (-100.629128061, 153.24806403))
            ThreePointArc((-100.629128061, 153.24806403), (-96.139, 153.24806403), (-96.139, 157.738192091))
            Line((-96.139, 157.738192091), (-96.139, 166.02993597))
            ThreePointArc((-96.139, 166.02993597), (-95.450746515, 167.059980102), (-95.20906403, 168.275))
            Line((-95.20906403, 168.275), (-95.20906403, 171.45))
            Line((-95.20906403, 171.45), (-114.34093597, 171.45))
        make_face()
    extrude(amount=-CUT_EXTRUDE7_DEPTH, mode=Mode.SUBTRACT)

    # Sketch12<3> → Cut-Extrude8 (cut, through all)
    with BuildSketch(Plane(origin=(0, 19.05, 0), x_dir=(1, 0, 0), z_dir=(0, 1, 0))):
        with BuildLine():
            ThreePointArc((96.139, 170.52006403), (97.169044133, 171.208317516), (98.38406403, 171.45))
            Line((98.38406403, 171.45), (95.20906403, 171.45))
            Line((95.20906403, 171.45), (95.20906403, 168.275))
            ThreePointArc((95.20906403, 168.275), (95.450746515, 169.490019898), (96.139, 170.52006403))
        make_face()
        with BuildLine():
            Line((96.139, 170.52006403), (100.629128061, 170.52006403))
            ThreePointArc((100.629128061, 170.52006403), (99.599083928, 171.208317516), (98.38406403, 171.45))
            ThreePointArc((98.38406403, 171.45), (97.169044133, 171.208317516), (96.139, 170.52006403))
        make_face()
        with BuildLine():
            Line((100.629128061, 170.52006403), (108.920871939, 170.52006403))
            ThreePointArc((108.920871939, 170.52006403), (109.950916072, 171.208317516), (111.16593597, 171.45))
            Line((111.16593597, 171.45), (98.38406403, 171.45))
            ThreePointArc((98.38406403, 171.45), (99.599083928, 171.208317516), (100.629128061, 170.52006403))
        make_face()
        with BuildLine():
            Line((108.920871939, 170.52006403), (113.411, 170.52006403))
            ThreePointArc((113.411, 170.52006403), (112.380955867, 171.208317516), (111.16593597, 171.45))
            ThreePointArc((111.16593597, 171.45), (109.950916072, 171.208317516), (108.920871939, 170.52006403))
        make_face()
        with BuildLine():
            ThreePointArc((111.16593597, 171.45), (112.380955867, 171.208317516), (113.411, 170.52006403))
            ThreePointArc((113.411, 170.52006403), (114.099253485, 169.490019898), (114.34093597, 168.275))
            Line((114.34093597, 168.275), (114.34093597, 171.45))
            Line((114.34093597, 171.45), (111.16593597, 171.45))
        make_face()
        with BuildLine():
            ThreePointArc((114.34093597, 168.275), (114.099253485, 169.490019898), (113.411, 170.52006403))
            Line((113.411, 170.52006403), (113.411, 166.02993597))
            ThreePointArc((113.411, 166.02993597), (114.099253485, 167.059980102), (114.34093597, 168.275))
        make_face()
    extrude(amount=-CUT_EXTRUDE8_DEPTH, mode=Mode.SUBTRACT)

    # Sketch13 → Cut-Extrude9 (cut)
    with BuildSketch(Plane(origin=(0, 19.05, 0), x_dir=(1, 0, 0), z_dir=(0, 1, 0))):
        with Locations(Location((-209.55, 12.7, 0), (0, 0, 270))):
            Circle(SKETCH13_R)
        with Locations(Location((-209.55, 31.75, 0), (0, 0, 270))):
            Circle(SKETCH13_R)
        with Locations(Location((209.55, 31.75, 0), (0, 0, 270))):
            Circle(SKETCH13_R)
        with Locations(Location((209.55, 12.7, 0), (0, 0, 270))):
            Circle(SKETCH13_R)
    extrude(amount=-CUT_EXTRUDE9_DEPTH, mode=Mode.SUBTRACT)


solid = part_1.part
